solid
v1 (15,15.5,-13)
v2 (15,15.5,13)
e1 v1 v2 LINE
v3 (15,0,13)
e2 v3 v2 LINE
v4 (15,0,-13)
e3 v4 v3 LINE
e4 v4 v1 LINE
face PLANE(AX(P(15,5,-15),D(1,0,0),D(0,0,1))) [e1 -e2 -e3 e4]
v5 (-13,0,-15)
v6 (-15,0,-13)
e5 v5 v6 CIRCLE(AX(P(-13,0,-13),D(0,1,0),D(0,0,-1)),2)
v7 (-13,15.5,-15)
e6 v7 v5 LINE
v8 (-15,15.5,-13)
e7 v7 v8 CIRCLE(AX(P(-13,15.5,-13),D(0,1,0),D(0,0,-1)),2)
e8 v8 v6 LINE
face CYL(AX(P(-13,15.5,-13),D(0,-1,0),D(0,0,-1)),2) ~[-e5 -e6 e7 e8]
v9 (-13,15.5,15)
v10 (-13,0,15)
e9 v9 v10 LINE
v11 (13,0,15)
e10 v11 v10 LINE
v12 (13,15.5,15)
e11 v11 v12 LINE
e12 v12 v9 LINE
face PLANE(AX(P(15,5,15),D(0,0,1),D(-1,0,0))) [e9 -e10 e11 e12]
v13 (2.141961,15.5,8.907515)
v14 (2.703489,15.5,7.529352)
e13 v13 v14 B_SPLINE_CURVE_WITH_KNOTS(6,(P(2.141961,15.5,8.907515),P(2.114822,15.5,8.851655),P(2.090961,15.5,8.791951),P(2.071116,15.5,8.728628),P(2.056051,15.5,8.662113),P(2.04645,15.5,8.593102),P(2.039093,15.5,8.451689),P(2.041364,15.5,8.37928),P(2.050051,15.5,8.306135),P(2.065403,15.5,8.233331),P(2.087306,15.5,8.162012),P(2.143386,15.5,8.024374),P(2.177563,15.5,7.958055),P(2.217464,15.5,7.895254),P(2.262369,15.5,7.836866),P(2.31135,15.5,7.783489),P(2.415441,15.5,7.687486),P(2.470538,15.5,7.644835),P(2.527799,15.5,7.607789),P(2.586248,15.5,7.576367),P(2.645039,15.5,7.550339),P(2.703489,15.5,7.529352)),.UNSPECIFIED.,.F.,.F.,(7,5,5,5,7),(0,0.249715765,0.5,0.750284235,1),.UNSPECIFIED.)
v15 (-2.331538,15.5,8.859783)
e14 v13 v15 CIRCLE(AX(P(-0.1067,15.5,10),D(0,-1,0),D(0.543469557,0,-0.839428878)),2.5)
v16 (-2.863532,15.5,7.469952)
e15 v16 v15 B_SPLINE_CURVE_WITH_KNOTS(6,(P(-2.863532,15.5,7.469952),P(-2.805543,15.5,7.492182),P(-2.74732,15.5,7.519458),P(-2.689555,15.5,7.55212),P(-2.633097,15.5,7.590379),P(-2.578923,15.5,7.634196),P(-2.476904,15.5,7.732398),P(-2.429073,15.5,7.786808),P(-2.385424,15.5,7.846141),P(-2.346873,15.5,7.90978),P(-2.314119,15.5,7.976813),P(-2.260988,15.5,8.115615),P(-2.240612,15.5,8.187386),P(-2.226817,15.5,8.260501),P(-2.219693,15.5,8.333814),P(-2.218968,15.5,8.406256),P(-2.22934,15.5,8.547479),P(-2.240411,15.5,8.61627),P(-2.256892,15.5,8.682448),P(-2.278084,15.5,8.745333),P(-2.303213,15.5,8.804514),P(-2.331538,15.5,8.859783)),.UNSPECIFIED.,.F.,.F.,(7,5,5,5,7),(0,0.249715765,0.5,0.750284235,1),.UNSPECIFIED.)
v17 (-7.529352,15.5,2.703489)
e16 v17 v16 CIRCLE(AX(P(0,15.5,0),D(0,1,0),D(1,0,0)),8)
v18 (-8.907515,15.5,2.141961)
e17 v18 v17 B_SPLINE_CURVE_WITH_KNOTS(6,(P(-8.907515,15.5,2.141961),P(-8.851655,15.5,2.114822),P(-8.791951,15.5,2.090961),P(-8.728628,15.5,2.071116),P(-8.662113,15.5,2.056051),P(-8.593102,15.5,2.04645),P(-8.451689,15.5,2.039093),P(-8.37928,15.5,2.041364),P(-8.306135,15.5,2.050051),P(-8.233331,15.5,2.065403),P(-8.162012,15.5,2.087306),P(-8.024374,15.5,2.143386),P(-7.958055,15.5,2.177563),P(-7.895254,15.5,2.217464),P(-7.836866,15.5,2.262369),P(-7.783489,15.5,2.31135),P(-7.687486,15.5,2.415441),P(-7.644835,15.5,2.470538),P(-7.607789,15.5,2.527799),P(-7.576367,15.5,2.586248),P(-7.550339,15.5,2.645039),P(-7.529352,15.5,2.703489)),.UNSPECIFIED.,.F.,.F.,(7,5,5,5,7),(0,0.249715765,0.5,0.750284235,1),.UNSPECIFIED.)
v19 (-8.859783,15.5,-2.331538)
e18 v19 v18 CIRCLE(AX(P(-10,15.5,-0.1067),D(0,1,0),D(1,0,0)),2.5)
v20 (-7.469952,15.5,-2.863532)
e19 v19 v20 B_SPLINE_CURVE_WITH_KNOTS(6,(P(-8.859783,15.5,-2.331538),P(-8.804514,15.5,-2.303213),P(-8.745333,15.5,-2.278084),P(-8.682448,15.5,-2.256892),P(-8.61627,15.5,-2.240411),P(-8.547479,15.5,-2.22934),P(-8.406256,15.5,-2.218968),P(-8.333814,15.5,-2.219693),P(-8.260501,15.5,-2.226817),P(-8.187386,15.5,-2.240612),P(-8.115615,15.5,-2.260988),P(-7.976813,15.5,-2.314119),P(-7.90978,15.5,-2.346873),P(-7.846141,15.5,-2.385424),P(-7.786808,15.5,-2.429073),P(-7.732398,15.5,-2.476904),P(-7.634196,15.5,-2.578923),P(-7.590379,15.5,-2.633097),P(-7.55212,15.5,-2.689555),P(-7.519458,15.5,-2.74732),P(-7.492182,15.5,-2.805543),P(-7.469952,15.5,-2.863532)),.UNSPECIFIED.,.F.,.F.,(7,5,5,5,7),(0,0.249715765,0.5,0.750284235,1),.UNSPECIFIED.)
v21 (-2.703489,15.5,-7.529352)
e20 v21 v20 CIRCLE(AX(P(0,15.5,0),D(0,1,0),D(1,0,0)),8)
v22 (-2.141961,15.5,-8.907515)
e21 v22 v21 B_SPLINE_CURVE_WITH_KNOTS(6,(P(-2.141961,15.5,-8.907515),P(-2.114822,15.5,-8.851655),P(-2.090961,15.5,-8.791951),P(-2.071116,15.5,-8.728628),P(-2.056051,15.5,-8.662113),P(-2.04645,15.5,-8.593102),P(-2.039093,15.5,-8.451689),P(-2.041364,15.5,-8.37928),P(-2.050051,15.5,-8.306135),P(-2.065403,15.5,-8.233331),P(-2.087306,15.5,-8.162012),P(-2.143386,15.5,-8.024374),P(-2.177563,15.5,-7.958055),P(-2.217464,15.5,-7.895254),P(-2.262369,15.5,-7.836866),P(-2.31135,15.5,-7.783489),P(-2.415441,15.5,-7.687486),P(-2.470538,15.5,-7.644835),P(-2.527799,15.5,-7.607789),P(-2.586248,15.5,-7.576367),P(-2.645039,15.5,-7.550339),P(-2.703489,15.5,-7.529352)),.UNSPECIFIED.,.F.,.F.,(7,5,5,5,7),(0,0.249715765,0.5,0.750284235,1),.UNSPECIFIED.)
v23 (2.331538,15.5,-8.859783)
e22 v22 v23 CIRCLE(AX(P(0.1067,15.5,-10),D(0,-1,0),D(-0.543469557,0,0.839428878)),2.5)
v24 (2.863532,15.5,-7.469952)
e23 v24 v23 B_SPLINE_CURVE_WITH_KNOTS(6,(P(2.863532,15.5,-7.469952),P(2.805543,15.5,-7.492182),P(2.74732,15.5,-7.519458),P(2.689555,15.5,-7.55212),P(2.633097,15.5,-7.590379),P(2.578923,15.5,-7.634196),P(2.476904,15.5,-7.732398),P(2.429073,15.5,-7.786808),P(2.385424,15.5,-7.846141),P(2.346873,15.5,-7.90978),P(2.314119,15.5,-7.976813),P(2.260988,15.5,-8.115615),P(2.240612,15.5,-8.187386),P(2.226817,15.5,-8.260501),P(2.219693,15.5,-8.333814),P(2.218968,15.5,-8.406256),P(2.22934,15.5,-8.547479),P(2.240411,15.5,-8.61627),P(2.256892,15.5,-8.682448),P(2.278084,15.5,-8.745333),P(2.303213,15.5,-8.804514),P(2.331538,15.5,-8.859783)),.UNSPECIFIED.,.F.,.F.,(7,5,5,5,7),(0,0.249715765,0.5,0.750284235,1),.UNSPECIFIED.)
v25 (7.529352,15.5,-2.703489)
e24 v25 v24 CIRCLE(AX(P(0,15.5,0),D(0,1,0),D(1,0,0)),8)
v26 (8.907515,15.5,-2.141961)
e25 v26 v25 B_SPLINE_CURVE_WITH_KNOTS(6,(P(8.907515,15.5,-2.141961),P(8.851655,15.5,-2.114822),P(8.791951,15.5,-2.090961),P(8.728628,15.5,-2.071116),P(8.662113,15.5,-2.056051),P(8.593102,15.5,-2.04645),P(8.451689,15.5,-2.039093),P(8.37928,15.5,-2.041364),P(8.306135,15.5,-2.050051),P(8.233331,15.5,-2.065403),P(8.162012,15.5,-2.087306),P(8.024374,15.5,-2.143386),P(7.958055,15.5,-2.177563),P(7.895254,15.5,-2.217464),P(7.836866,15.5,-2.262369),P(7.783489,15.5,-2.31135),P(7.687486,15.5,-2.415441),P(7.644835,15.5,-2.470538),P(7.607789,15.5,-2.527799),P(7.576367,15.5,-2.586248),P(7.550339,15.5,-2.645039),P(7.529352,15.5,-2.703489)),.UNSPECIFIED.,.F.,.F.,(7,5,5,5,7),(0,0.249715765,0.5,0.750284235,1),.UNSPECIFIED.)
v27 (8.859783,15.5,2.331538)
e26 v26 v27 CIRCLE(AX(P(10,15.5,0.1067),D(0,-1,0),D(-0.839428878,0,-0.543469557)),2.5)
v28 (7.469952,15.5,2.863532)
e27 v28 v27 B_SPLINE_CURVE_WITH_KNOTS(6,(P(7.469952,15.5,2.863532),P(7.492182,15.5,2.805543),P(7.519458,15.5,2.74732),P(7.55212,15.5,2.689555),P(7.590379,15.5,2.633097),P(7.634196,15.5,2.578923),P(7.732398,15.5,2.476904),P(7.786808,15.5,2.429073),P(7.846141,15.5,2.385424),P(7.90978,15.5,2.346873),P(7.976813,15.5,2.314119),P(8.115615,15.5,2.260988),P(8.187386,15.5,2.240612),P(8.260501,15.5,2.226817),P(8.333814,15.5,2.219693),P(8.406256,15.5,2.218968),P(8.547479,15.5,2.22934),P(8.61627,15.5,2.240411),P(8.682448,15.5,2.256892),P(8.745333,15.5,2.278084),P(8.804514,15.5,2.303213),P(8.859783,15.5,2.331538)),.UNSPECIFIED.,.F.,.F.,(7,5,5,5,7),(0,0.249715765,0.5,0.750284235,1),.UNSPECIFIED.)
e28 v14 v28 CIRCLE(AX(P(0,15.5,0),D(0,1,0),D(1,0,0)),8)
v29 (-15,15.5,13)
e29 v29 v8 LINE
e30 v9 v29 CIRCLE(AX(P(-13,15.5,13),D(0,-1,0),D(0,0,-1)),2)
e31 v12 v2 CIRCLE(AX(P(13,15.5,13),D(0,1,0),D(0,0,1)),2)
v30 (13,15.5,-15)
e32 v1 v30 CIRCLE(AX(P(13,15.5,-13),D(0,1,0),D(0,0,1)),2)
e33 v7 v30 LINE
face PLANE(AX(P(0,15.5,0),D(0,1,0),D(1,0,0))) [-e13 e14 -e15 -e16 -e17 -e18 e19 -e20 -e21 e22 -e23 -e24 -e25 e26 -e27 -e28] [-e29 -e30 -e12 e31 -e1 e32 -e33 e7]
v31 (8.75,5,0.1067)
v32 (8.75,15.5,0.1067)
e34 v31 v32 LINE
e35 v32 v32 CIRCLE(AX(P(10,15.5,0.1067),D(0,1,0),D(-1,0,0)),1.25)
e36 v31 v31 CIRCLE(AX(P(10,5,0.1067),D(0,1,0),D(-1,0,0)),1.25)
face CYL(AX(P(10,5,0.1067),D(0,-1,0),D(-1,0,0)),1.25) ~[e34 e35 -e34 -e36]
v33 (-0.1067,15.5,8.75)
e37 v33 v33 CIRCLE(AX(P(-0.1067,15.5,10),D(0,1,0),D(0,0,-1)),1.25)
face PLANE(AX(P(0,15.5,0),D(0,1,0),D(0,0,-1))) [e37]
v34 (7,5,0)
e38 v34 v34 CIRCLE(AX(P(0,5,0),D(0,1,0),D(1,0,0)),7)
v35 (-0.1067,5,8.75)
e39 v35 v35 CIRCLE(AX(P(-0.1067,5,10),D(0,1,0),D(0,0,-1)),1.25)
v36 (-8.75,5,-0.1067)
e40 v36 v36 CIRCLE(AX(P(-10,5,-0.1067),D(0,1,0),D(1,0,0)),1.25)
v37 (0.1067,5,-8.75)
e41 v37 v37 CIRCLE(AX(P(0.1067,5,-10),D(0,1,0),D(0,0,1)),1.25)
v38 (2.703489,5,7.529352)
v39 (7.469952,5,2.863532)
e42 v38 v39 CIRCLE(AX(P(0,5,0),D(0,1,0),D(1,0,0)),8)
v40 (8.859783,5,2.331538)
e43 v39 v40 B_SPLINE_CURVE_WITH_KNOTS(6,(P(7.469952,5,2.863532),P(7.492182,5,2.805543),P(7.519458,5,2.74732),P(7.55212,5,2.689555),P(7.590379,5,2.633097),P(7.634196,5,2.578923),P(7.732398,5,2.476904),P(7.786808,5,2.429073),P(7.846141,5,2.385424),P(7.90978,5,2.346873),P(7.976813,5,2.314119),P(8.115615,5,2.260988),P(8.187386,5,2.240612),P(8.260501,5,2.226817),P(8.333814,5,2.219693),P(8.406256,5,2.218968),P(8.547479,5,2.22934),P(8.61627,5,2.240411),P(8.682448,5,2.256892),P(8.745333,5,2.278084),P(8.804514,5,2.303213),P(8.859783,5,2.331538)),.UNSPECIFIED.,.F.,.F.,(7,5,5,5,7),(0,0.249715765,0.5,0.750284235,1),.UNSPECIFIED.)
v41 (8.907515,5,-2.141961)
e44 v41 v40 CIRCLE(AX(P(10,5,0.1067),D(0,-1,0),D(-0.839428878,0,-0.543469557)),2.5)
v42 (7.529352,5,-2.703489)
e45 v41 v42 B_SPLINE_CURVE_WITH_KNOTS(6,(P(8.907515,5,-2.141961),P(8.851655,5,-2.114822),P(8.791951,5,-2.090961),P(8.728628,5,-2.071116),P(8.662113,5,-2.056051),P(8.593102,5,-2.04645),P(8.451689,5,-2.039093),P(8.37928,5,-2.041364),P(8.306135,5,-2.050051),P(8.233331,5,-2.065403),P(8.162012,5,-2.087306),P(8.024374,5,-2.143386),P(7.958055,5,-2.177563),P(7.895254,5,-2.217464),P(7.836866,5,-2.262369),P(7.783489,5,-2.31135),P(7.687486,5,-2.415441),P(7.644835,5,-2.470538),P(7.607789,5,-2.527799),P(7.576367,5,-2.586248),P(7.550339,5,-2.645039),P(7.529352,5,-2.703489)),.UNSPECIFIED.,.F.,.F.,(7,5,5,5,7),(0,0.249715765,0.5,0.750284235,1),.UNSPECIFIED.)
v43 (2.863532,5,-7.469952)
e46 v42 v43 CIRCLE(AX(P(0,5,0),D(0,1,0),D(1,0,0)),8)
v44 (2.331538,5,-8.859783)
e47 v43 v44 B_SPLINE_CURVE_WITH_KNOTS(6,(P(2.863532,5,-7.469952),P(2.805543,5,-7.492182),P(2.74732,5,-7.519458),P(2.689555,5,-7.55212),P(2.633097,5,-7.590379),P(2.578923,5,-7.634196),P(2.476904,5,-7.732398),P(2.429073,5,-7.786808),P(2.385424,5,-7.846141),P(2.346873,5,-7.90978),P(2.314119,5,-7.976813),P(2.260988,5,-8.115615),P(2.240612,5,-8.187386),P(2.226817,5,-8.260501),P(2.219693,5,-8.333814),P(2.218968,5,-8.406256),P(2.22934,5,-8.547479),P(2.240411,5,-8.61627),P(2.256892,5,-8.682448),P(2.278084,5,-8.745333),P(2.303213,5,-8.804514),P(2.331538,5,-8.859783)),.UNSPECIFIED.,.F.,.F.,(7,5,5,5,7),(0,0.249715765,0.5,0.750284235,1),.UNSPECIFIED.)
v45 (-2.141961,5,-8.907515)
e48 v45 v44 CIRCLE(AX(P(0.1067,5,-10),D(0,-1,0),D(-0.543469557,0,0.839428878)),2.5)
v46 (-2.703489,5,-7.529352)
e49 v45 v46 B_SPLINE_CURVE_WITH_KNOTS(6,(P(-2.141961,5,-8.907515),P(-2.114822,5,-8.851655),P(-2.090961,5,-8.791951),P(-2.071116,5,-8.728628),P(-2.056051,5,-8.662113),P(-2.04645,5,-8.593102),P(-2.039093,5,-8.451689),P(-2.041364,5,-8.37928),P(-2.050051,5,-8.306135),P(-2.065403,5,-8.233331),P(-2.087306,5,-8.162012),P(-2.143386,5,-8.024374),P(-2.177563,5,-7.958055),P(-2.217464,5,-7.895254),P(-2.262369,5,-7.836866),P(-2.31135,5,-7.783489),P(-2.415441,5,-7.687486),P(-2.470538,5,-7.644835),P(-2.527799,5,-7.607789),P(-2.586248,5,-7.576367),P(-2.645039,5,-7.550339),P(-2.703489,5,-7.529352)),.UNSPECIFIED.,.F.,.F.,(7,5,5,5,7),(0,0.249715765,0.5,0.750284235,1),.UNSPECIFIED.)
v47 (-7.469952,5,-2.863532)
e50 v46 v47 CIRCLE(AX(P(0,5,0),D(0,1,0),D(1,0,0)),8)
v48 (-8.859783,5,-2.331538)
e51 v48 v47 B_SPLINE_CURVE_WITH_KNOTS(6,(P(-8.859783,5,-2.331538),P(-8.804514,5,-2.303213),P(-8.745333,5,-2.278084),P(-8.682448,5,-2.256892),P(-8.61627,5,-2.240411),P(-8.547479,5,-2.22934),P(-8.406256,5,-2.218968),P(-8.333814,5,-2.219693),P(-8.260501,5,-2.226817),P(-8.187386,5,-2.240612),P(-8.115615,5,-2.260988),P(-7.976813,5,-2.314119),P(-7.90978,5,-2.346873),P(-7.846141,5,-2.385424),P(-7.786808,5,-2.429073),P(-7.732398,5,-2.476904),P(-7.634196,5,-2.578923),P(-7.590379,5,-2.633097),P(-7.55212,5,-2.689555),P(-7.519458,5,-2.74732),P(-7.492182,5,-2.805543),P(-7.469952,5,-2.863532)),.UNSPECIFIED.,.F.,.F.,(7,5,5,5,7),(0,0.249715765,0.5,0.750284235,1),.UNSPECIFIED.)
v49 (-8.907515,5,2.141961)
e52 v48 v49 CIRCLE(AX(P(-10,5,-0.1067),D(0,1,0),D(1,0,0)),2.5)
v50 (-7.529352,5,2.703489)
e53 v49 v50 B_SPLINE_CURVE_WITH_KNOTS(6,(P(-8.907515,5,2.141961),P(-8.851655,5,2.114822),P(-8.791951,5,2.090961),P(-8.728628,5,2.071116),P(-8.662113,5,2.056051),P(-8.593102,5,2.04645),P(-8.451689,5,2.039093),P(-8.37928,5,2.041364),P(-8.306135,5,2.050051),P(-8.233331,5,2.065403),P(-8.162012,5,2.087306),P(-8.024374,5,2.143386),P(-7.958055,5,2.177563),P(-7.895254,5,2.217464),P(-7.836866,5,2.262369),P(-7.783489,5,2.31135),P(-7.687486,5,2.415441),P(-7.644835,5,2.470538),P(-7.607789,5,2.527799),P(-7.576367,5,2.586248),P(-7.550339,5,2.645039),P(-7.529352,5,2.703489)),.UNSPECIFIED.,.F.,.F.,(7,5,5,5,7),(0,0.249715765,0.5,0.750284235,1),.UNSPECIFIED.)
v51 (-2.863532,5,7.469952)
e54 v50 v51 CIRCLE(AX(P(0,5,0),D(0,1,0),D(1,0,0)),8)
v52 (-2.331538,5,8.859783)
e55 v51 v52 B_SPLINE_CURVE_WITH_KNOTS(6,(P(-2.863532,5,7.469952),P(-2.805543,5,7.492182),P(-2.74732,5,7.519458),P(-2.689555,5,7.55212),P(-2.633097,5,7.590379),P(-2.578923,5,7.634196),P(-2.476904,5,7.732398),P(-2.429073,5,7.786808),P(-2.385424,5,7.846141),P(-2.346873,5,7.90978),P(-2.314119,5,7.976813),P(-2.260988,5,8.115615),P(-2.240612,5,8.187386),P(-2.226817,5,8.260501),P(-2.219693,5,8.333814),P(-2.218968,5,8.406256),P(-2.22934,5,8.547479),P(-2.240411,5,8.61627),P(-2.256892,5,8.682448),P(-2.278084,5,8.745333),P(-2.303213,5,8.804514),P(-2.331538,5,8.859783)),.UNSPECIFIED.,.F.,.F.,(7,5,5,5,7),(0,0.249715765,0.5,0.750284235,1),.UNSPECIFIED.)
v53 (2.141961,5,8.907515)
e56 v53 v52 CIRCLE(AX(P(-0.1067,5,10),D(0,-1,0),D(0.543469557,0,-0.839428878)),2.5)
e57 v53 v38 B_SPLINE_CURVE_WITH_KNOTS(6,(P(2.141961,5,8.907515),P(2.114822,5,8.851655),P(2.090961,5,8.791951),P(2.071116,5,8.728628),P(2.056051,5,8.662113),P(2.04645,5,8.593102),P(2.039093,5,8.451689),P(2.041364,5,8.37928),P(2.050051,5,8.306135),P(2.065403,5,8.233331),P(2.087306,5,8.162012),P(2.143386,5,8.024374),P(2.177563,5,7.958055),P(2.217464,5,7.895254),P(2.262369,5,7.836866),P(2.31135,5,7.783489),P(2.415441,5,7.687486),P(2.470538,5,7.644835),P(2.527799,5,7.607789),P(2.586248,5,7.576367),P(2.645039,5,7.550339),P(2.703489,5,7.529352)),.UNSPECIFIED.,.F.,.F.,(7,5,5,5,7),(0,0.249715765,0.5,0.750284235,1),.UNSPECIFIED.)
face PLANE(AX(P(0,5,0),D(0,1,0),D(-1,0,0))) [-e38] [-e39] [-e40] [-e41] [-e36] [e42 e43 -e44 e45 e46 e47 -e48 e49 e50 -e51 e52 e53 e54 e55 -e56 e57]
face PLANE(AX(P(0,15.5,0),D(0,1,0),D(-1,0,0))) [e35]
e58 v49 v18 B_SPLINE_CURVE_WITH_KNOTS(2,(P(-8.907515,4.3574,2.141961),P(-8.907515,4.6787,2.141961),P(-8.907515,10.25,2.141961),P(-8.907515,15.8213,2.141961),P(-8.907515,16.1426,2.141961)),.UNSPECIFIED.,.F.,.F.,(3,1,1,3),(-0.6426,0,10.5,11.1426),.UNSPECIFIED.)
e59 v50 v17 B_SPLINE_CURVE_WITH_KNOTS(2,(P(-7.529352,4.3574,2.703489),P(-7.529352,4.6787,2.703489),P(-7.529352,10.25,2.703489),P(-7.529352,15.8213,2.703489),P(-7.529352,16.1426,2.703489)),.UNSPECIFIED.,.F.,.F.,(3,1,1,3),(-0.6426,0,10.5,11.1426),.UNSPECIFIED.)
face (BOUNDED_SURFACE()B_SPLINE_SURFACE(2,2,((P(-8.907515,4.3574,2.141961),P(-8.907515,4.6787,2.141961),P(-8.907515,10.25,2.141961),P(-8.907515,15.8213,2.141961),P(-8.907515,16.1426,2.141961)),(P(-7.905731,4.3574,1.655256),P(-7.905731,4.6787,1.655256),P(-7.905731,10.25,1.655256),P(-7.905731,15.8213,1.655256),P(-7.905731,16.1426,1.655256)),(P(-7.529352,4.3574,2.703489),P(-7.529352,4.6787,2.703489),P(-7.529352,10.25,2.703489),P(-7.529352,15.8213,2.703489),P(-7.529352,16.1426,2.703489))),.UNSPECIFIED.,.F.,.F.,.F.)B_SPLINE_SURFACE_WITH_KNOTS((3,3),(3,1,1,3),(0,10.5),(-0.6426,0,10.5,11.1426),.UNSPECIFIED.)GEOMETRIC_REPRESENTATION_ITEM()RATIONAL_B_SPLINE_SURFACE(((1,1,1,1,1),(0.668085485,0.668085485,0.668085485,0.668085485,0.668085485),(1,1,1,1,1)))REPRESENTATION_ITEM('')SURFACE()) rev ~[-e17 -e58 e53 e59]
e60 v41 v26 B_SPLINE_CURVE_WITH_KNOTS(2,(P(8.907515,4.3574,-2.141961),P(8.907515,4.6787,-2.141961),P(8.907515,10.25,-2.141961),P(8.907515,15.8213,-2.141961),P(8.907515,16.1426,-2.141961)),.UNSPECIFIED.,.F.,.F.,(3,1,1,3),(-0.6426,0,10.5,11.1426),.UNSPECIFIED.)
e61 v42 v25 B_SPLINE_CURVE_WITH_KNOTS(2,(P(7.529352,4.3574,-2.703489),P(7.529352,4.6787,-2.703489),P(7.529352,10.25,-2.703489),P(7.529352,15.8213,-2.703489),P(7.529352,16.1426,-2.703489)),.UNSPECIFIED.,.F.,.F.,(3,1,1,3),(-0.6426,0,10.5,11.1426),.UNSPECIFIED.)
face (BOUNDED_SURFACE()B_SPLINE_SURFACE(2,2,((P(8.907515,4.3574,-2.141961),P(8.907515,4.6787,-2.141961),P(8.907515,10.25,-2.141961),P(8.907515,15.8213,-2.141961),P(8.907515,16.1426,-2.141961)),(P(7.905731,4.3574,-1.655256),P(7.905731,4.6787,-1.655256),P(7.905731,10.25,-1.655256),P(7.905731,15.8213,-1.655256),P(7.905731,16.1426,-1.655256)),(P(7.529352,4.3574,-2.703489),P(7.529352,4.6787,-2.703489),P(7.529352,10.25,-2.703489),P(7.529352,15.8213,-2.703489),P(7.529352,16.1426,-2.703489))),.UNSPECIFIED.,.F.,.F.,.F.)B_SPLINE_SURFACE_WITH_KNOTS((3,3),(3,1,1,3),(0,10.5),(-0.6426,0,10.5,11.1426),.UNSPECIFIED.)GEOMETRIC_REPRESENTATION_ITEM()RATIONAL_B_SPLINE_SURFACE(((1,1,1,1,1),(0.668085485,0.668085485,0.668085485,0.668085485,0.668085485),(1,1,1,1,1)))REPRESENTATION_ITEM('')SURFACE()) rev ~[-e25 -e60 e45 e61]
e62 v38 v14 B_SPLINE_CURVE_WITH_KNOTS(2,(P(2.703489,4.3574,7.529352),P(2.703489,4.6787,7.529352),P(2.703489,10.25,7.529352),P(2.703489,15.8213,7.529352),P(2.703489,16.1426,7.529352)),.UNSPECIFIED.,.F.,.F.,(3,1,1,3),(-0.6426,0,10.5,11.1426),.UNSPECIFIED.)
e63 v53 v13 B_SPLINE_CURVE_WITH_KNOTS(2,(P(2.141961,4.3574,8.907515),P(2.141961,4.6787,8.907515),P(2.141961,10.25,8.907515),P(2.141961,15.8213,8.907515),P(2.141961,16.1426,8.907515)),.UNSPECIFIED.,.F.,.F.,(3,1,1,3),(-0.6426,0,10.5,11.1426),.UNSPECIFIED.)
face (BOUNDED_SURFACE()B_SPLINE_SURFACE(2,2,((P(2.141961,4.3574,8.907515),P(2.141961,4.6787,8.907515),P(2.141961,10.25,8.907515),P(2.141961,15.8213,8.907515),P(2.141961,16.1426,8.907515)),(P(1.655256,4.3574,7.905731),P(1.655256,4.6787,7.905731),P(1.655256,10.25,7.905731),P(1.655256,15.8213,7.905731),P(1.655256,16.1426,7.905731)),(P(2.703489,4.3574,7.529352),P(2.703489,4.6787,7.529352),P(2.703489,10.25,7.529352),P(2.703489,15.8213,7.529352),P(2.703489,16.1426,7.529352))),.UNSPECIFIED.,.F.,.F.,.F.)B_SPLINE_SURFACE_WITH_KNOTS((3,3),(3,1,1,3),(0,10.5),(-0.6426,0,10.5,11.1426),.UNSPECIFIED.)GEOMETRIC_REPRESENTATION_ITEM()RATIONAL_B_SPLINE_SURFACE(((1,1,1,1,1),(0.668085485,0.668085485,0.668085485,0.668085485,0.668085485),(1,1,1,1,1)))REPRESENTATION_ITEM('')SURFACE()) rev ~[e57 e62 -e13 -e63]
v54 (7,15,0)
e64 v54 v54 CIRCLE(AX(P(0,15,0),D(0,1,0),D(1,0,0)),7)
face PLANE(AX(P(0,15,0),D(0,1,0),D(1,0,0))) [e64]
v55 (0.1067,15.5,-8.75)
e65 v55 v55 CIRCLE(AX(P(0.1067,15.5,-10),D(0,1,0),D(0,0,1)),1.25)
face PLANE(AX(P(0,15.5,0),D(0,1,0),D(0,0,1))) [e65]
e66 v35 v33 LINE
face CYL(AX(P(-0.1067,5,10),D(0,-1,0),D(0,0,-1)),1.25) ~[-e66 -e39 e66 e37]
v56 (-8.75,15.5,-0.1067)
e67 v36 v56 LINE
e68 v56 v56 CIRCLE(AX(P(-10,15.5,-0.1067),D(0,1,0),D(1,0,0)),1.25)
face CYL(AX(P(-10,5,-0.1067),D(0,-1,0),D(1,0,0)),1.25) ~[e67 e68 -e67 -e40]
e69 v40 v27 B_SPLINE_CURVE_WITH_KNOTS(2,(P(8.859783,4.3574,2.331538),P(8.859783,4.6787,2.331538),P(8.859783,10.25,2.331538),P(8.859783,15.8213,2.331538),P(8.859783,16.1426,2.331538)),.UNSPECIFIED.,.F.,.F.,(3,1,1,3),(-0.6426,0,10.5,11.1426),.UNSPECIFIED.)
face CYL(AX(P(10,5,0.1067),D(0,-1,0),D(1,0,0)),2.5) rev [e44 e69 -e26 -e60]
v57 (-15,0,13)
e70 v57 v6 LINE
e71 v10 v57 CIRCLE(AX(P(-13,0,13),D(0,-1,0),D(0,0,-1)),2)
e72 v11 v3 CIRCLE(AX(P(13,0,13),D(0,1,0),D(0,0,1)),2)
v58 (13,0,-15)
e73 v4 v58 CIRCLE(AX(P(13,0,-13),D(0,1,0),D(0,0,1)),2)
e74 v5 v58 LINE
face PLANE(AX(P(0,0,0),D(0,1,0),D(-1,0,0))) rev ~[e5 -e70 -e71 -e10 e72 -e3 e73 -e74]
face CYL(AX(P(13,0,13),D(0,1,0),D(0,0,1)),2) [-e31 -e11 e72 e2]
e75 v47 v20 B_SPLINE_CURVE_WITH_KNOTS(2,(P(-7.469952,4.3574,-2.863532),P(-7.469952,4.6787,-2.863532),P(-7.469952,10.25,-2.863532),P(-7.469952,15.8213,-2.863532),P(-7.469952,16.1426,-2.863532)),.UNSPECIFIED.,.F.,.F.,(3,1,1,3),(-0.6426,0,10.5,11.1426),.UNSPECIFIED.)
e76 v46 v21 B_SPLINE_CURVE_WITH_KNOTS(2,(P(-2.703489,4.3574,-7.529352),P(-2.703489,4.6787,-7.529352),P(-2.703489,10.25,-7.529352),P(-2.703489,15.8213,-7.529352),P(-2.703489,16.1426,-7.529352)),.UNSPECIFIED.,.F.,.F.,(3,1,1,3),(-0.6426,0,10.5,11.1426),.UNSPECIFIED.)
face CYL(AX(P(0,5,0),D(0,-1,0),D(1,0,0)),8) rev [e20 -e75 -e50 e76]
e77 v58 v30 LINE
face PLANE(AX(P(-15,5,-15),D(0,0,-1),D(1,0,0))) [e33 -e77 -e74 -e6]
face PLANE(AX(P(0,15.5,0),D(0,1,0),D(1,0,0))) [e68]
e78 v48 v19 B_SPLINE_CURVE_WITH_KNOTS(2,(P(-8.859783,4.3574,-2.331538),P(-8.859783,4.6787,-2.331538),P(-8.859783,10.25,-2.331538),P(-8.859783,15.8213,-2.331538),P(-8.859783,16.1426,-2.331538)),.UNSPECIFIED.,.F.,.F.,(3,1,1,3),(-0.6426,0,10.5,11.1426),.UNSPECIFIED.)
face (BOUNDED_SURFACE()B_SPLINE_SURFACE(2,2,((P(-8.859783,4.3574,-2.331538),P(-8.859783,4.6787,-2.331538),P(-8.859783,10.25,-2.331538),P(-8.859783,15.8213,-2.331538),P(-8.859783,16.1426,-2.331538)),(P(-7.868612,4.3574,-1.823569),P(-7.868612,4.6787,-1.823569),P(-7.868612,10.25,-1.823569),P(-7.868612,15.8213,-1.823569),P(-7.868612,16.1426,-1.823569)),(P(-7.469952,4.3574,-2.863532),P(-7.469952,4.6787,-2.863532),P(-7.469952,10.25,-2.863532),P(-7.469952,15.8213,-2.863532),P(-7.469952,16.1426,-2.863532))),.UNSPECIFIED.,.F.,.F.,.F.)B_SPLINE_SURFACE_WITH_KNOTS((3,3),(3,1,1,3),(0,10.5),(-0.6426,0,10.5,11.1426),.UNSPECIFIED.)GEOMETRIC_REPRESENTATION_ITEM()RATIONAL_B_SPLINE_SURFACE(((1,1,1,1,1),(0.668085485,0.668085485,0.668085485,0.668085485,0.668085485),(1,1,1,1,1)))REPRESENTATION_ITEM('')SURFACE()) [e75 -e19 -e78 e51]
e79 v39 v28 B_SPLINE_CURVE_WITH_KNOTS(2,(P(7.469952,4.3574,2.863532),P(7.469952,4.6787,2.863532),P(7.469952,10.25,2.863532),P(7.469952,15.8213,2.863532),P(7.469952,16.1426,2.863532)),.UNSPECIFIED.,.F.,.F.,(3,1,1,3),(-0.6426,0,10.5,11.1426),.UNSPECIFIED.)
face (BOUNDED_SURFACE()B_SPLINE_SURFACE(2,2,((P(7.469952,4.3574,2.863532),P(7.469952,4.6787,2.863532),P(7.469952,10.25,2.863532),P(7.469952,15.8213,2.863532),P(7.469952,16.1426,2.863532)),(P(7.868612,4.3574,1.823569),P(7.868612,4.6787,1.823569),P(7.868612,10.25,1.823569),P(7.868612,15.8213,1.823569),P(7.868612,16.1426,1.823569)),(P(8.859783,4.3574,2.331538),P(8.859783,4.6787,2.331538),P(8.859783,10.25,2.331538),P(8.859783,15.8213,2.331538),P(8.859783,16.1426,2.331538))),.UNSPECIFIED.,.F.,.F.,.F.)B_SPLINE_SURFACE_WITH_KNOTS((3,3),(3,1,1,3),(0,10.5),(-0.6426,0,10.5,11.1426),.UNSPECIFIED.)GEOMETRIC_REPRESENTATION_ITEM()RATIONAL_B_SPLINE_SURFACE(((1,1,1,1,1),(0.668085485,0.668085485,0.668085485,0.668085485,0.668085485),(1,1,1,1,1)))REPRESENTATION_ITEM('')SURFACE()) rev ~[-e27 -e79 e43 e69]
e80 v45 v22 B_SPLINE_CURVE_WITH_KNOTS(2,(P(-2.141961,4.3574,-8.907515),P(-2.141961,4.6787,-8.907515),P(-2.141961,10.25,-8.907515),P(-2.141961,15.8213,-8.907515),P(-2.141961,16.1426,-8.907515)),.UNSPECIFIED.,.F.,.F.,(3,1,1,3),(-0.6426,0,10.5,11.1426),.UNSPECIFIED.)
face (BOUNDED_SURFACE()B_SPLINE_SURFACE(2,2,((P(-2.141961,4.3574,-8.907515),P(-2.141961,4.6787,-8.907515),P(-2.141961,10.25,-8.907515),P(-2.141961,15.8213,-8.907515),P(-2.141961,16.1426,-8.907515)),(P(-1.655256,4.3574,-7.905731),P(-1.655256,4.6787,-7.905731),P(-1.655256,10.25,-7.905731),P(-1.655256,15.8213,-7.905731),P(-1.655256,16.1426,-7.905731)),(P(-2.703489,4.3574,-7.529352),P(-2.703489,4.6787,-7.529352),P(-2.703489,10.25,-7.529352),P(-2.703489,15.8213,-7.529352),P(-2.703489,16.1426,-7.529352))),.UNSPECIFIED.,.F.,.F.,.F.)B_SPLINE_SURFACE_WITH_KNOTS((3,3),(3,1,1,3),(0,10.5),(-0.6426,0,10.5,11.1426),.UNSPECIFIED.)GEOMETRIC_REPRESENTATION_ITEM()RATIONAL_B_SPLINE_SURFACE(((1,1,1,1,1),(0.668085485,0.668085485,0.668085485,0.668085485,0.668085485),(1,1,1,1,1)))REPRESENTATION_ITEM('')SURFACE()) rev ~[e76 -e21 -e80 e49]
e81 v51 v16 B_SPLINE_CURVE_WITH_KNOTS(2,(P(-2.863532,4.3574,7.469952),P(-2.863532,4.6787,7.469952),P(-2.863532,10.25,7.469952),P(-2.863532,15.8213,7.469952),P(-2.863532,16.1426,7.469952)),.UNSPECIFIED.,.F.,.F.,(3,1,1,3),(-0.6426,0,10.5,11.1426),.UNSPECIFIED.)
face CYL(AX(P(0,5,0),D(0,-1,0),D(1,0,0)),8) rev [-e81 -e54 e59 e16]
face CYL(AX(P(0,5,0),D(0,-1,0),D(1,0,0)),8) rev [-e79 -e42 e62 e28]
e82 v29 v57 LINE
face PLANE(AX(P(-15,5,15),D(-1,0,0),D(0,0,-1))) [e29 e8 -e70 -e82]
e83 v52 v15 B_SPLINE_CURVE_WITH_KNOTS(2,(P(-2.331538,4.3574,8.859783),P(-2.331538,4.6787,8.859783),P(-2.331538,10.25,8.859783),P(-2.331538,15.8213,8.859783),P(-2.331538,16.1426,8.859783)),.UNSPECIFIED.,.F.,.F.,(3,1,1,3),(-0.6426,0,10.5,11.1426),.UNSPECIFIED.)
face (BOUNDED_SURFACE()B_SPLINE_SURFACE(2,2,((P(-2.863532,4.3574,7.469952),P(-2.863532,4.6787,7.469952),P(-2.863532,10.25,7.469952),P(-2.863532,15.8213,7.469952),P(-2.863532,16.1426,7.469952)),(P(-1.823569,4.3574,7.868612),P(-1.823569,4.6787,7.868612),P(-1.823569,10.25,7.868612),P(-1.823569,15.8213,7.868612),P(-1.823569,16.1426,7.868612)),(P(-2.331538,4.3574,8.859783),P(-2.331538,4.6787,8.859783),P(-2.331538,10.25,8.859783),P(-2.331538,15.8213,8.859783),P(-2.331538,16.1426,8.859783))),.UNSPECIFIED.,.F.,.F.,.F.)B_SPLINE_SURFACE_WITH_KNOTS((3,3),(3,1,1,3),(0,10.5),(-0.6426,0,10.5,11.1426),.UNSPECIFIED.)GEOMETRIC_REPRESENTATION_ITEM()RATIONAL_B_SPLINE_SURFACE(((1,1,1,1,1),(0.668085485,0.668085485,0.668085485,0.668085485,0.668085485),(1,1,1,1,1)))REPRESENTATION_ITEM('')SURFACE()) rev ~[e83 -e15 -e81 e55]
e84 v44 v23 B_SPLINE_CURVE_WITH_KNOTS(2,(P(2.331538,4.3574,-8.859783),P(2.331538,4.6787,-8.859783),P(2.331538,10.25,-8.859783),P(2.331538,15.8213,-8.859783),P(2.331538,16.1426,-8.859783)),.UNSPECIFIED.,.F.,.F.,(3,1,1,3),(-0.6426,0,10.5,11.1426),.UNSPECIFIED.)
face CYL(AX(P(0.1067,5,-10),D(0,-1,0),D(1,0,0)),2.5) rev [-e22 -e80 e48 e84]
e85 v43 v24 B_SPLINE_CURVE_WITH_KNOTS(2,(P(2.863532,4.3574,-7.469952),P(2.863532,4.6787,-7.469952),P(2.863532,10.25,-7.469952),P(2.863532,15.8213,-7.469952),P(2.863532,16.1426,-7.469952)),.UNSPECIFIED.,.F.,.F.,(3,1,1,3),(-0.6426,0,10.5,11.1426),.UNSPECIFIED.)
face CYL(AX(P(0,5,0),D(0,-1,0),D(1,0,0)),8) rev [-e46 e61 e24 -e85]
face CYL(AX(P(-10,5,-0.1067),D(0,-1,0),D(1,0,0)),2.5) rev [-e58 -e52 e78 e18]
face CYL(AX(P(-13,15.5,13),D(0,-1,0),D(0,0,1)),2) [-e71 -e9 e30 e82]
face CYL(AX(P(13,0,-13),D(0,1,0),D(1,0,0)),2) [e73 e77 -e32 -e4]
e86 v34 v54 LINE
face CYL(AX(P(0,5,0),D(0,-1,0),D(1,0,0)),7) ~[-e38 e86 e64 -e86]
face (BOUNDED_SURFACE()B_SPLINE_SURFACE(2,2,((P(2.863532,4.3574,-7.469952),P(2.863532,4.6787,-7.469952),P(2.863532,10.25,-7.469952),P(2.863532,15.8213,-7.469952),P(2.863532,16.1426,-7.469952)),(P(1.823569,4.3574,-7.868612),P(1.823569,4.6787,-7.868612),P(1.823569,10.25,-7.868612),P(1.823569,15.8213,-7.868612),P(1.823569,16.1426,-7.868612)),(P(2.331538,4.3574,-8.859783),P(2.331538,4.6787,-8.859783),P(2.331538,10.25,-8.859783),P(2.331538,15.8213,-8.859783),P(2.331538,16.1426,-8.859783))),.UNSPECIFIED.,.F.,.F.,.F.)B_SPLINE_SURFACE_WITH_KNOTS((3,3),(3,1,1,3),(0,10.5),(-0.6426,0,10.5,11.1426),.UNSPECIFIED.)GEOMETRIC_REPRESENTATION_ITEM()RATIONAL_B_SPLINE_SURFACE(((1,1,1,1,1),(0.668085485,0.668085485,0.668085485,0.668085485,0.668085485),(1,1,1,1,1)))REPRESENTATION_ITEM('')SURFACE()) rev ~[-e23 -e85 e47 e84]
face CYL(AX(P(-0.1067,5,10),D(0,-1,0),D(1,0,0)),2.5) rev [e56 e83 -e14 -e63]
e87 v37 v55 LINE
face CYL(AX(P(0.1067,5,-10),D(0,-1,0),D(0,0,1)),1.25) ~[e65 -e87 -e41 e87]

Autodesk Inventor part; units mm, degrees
ref_plane "YZ Plane" through (0, 0, 0) normal (1, 0, 0) x (0, 1, 0)
ref_plane "XZ Plane" through (0, 0, 0) normal (0, 1, 0) x (-1, 0, 0)
ref_plane "XY Plane" through (0, 0, 0) normal (0, 0, 1) x (1, 0, 0)
sketch "Sketch1" plane through (0, 0, 0) normal (0, 1, 0) x (-1, 0, 0)
  line L0 (-15, 15) -> (15, 15)
  line L1 (15, 15) -> (15, -15)
  line L2 (15, -15) -> (-15, -15)
  line L3 (-15, -15) -> (-15, 15)
  line L4 (-15, 15) -> (15, -15) construction
  line L5 (15, 15) -> (-15, -15) construction
  point P0 (0, 0)
  dimension "d0" = 30
  dimension "d1" = 30
extrude "Extrusion1" add sketch "Sketch1" along normal blind 5
sketch "Sketch2" plane through (0, 5, 0) normal (0, 1, 0) x (1, 0, 0)
  circle A0 centre (0, 0) radius 7
  dimension "d4" = 14
extrude "Extrusion2" add sketch "Sketch2" along normal blind 10
sketch "Sketch3" plane through (0, 5, 0) normal (0, 1, 0) x (1, 0, 0)
  line L0 (-15, -15) -> (15, -15) projected
  line L1 (0, -15) -> (0, 15) construction
  line L2 (15, 15) -> (-15, 15) projected
  line L3 (0, 0.1067) -> (-10, 0.1067) construction
  circle A0 centre (-10, 0.1067) radius 1.25
  point P0 (0, 0)
  point P1 (0, 0)
  dimension "d7" = 2.5
  dimension "d8" = 10
extrude "Extrusion3" add sketch "Sketch3" along normal blind 10.5
pattern_circular "Circular Pattern1" count 4 over 360 about axis through (0, 5, 0) along (0, 1, 0) of "Extrusion3"
sketch "Sketch4" plane through (0, 5, 0) normal (0, 1, 0) x (1, 0, 0)
  circle A0 centre (-10, 0.1067) radius 1.25 projected
  circle A1 centre (-10, 0.1067) radius 2.5
  circle A2 centre (0.1067, 10) radius 1.25 projected
  circle A3 centre (0.1067, 10) radius 2.5
  circle A4 centre (-0.1067, -10) radius 1.25 projected
  circle A5 centre (-0.1067, -10) radius 2.5
  circle A6 centre (10, -0.1067) radius 1.25 projected
  circle A7 centre (10, -0.1067) radius 2.5
  circle A8 centre (0, 0) radius 7 projected
  circle A9 centre (0, 0) radius 8
  line L0 (15, -15) -> (-15, -15)
  line L1 (-15, -15) -> (-15, 15)
  line L2 (-15, 15) -> (15, 15)
  line L3 (15, 15) -> (15, -15)
  line L4 (15, -15) -> (-15, 15) construction
  line L5 (-15, -15) -> (15, 15) construction
  point P0 (7.8729, -1.4203)
  point P1 (1.2519, -7.9014)
  point P2 (-1.4203, -7.8729)
  point P3 (-7.9014, -1.2519)
  point P4 (-7.8729, 1.4203)
  point P5 (-1.2519, 7.9014)
  point P6 (1.4203, 7.8729)
  point P7 (7.9014, 1.2519)
  dimension "d14" = 5
  dimension "d15" = 5
  dimension "d16" = 5
  dimension "d17" = 5
  dimension "d18" = 16
extrude "Extrusion4" add sketch "Sketch4" along normal up to surface (10.5 mm away) contours L0 L1 L2 L3
fillet "Fillet1" radius 1 8 edges at (-1.2519, 10.25, -7.9014) (-7.8729, 10.25, -1.4203) (-7.9014, 10.25, 1.2519) (-1.4203, 10.25, 7.8729) (1.2519, 10.25, 7.9014) (7.8729, 10.25, 1.4203) (7.9014, 10.25, -1.2519) (1.4203, 10.25, -7.8729)
fillet "Fillet2" radius 2 4 edges at (15, 7.75, 15) (15, 7.75, -15) (-15, 7.75, 15) (-15, 7.75, -15)
equation "\"d1\" = d0"
equation "\"d15\" = d14"
equation "\"d16\" = d14"
equation "\"d17\" = d14"
properties part number "PDMS stretcher mould A (x4) V2"
